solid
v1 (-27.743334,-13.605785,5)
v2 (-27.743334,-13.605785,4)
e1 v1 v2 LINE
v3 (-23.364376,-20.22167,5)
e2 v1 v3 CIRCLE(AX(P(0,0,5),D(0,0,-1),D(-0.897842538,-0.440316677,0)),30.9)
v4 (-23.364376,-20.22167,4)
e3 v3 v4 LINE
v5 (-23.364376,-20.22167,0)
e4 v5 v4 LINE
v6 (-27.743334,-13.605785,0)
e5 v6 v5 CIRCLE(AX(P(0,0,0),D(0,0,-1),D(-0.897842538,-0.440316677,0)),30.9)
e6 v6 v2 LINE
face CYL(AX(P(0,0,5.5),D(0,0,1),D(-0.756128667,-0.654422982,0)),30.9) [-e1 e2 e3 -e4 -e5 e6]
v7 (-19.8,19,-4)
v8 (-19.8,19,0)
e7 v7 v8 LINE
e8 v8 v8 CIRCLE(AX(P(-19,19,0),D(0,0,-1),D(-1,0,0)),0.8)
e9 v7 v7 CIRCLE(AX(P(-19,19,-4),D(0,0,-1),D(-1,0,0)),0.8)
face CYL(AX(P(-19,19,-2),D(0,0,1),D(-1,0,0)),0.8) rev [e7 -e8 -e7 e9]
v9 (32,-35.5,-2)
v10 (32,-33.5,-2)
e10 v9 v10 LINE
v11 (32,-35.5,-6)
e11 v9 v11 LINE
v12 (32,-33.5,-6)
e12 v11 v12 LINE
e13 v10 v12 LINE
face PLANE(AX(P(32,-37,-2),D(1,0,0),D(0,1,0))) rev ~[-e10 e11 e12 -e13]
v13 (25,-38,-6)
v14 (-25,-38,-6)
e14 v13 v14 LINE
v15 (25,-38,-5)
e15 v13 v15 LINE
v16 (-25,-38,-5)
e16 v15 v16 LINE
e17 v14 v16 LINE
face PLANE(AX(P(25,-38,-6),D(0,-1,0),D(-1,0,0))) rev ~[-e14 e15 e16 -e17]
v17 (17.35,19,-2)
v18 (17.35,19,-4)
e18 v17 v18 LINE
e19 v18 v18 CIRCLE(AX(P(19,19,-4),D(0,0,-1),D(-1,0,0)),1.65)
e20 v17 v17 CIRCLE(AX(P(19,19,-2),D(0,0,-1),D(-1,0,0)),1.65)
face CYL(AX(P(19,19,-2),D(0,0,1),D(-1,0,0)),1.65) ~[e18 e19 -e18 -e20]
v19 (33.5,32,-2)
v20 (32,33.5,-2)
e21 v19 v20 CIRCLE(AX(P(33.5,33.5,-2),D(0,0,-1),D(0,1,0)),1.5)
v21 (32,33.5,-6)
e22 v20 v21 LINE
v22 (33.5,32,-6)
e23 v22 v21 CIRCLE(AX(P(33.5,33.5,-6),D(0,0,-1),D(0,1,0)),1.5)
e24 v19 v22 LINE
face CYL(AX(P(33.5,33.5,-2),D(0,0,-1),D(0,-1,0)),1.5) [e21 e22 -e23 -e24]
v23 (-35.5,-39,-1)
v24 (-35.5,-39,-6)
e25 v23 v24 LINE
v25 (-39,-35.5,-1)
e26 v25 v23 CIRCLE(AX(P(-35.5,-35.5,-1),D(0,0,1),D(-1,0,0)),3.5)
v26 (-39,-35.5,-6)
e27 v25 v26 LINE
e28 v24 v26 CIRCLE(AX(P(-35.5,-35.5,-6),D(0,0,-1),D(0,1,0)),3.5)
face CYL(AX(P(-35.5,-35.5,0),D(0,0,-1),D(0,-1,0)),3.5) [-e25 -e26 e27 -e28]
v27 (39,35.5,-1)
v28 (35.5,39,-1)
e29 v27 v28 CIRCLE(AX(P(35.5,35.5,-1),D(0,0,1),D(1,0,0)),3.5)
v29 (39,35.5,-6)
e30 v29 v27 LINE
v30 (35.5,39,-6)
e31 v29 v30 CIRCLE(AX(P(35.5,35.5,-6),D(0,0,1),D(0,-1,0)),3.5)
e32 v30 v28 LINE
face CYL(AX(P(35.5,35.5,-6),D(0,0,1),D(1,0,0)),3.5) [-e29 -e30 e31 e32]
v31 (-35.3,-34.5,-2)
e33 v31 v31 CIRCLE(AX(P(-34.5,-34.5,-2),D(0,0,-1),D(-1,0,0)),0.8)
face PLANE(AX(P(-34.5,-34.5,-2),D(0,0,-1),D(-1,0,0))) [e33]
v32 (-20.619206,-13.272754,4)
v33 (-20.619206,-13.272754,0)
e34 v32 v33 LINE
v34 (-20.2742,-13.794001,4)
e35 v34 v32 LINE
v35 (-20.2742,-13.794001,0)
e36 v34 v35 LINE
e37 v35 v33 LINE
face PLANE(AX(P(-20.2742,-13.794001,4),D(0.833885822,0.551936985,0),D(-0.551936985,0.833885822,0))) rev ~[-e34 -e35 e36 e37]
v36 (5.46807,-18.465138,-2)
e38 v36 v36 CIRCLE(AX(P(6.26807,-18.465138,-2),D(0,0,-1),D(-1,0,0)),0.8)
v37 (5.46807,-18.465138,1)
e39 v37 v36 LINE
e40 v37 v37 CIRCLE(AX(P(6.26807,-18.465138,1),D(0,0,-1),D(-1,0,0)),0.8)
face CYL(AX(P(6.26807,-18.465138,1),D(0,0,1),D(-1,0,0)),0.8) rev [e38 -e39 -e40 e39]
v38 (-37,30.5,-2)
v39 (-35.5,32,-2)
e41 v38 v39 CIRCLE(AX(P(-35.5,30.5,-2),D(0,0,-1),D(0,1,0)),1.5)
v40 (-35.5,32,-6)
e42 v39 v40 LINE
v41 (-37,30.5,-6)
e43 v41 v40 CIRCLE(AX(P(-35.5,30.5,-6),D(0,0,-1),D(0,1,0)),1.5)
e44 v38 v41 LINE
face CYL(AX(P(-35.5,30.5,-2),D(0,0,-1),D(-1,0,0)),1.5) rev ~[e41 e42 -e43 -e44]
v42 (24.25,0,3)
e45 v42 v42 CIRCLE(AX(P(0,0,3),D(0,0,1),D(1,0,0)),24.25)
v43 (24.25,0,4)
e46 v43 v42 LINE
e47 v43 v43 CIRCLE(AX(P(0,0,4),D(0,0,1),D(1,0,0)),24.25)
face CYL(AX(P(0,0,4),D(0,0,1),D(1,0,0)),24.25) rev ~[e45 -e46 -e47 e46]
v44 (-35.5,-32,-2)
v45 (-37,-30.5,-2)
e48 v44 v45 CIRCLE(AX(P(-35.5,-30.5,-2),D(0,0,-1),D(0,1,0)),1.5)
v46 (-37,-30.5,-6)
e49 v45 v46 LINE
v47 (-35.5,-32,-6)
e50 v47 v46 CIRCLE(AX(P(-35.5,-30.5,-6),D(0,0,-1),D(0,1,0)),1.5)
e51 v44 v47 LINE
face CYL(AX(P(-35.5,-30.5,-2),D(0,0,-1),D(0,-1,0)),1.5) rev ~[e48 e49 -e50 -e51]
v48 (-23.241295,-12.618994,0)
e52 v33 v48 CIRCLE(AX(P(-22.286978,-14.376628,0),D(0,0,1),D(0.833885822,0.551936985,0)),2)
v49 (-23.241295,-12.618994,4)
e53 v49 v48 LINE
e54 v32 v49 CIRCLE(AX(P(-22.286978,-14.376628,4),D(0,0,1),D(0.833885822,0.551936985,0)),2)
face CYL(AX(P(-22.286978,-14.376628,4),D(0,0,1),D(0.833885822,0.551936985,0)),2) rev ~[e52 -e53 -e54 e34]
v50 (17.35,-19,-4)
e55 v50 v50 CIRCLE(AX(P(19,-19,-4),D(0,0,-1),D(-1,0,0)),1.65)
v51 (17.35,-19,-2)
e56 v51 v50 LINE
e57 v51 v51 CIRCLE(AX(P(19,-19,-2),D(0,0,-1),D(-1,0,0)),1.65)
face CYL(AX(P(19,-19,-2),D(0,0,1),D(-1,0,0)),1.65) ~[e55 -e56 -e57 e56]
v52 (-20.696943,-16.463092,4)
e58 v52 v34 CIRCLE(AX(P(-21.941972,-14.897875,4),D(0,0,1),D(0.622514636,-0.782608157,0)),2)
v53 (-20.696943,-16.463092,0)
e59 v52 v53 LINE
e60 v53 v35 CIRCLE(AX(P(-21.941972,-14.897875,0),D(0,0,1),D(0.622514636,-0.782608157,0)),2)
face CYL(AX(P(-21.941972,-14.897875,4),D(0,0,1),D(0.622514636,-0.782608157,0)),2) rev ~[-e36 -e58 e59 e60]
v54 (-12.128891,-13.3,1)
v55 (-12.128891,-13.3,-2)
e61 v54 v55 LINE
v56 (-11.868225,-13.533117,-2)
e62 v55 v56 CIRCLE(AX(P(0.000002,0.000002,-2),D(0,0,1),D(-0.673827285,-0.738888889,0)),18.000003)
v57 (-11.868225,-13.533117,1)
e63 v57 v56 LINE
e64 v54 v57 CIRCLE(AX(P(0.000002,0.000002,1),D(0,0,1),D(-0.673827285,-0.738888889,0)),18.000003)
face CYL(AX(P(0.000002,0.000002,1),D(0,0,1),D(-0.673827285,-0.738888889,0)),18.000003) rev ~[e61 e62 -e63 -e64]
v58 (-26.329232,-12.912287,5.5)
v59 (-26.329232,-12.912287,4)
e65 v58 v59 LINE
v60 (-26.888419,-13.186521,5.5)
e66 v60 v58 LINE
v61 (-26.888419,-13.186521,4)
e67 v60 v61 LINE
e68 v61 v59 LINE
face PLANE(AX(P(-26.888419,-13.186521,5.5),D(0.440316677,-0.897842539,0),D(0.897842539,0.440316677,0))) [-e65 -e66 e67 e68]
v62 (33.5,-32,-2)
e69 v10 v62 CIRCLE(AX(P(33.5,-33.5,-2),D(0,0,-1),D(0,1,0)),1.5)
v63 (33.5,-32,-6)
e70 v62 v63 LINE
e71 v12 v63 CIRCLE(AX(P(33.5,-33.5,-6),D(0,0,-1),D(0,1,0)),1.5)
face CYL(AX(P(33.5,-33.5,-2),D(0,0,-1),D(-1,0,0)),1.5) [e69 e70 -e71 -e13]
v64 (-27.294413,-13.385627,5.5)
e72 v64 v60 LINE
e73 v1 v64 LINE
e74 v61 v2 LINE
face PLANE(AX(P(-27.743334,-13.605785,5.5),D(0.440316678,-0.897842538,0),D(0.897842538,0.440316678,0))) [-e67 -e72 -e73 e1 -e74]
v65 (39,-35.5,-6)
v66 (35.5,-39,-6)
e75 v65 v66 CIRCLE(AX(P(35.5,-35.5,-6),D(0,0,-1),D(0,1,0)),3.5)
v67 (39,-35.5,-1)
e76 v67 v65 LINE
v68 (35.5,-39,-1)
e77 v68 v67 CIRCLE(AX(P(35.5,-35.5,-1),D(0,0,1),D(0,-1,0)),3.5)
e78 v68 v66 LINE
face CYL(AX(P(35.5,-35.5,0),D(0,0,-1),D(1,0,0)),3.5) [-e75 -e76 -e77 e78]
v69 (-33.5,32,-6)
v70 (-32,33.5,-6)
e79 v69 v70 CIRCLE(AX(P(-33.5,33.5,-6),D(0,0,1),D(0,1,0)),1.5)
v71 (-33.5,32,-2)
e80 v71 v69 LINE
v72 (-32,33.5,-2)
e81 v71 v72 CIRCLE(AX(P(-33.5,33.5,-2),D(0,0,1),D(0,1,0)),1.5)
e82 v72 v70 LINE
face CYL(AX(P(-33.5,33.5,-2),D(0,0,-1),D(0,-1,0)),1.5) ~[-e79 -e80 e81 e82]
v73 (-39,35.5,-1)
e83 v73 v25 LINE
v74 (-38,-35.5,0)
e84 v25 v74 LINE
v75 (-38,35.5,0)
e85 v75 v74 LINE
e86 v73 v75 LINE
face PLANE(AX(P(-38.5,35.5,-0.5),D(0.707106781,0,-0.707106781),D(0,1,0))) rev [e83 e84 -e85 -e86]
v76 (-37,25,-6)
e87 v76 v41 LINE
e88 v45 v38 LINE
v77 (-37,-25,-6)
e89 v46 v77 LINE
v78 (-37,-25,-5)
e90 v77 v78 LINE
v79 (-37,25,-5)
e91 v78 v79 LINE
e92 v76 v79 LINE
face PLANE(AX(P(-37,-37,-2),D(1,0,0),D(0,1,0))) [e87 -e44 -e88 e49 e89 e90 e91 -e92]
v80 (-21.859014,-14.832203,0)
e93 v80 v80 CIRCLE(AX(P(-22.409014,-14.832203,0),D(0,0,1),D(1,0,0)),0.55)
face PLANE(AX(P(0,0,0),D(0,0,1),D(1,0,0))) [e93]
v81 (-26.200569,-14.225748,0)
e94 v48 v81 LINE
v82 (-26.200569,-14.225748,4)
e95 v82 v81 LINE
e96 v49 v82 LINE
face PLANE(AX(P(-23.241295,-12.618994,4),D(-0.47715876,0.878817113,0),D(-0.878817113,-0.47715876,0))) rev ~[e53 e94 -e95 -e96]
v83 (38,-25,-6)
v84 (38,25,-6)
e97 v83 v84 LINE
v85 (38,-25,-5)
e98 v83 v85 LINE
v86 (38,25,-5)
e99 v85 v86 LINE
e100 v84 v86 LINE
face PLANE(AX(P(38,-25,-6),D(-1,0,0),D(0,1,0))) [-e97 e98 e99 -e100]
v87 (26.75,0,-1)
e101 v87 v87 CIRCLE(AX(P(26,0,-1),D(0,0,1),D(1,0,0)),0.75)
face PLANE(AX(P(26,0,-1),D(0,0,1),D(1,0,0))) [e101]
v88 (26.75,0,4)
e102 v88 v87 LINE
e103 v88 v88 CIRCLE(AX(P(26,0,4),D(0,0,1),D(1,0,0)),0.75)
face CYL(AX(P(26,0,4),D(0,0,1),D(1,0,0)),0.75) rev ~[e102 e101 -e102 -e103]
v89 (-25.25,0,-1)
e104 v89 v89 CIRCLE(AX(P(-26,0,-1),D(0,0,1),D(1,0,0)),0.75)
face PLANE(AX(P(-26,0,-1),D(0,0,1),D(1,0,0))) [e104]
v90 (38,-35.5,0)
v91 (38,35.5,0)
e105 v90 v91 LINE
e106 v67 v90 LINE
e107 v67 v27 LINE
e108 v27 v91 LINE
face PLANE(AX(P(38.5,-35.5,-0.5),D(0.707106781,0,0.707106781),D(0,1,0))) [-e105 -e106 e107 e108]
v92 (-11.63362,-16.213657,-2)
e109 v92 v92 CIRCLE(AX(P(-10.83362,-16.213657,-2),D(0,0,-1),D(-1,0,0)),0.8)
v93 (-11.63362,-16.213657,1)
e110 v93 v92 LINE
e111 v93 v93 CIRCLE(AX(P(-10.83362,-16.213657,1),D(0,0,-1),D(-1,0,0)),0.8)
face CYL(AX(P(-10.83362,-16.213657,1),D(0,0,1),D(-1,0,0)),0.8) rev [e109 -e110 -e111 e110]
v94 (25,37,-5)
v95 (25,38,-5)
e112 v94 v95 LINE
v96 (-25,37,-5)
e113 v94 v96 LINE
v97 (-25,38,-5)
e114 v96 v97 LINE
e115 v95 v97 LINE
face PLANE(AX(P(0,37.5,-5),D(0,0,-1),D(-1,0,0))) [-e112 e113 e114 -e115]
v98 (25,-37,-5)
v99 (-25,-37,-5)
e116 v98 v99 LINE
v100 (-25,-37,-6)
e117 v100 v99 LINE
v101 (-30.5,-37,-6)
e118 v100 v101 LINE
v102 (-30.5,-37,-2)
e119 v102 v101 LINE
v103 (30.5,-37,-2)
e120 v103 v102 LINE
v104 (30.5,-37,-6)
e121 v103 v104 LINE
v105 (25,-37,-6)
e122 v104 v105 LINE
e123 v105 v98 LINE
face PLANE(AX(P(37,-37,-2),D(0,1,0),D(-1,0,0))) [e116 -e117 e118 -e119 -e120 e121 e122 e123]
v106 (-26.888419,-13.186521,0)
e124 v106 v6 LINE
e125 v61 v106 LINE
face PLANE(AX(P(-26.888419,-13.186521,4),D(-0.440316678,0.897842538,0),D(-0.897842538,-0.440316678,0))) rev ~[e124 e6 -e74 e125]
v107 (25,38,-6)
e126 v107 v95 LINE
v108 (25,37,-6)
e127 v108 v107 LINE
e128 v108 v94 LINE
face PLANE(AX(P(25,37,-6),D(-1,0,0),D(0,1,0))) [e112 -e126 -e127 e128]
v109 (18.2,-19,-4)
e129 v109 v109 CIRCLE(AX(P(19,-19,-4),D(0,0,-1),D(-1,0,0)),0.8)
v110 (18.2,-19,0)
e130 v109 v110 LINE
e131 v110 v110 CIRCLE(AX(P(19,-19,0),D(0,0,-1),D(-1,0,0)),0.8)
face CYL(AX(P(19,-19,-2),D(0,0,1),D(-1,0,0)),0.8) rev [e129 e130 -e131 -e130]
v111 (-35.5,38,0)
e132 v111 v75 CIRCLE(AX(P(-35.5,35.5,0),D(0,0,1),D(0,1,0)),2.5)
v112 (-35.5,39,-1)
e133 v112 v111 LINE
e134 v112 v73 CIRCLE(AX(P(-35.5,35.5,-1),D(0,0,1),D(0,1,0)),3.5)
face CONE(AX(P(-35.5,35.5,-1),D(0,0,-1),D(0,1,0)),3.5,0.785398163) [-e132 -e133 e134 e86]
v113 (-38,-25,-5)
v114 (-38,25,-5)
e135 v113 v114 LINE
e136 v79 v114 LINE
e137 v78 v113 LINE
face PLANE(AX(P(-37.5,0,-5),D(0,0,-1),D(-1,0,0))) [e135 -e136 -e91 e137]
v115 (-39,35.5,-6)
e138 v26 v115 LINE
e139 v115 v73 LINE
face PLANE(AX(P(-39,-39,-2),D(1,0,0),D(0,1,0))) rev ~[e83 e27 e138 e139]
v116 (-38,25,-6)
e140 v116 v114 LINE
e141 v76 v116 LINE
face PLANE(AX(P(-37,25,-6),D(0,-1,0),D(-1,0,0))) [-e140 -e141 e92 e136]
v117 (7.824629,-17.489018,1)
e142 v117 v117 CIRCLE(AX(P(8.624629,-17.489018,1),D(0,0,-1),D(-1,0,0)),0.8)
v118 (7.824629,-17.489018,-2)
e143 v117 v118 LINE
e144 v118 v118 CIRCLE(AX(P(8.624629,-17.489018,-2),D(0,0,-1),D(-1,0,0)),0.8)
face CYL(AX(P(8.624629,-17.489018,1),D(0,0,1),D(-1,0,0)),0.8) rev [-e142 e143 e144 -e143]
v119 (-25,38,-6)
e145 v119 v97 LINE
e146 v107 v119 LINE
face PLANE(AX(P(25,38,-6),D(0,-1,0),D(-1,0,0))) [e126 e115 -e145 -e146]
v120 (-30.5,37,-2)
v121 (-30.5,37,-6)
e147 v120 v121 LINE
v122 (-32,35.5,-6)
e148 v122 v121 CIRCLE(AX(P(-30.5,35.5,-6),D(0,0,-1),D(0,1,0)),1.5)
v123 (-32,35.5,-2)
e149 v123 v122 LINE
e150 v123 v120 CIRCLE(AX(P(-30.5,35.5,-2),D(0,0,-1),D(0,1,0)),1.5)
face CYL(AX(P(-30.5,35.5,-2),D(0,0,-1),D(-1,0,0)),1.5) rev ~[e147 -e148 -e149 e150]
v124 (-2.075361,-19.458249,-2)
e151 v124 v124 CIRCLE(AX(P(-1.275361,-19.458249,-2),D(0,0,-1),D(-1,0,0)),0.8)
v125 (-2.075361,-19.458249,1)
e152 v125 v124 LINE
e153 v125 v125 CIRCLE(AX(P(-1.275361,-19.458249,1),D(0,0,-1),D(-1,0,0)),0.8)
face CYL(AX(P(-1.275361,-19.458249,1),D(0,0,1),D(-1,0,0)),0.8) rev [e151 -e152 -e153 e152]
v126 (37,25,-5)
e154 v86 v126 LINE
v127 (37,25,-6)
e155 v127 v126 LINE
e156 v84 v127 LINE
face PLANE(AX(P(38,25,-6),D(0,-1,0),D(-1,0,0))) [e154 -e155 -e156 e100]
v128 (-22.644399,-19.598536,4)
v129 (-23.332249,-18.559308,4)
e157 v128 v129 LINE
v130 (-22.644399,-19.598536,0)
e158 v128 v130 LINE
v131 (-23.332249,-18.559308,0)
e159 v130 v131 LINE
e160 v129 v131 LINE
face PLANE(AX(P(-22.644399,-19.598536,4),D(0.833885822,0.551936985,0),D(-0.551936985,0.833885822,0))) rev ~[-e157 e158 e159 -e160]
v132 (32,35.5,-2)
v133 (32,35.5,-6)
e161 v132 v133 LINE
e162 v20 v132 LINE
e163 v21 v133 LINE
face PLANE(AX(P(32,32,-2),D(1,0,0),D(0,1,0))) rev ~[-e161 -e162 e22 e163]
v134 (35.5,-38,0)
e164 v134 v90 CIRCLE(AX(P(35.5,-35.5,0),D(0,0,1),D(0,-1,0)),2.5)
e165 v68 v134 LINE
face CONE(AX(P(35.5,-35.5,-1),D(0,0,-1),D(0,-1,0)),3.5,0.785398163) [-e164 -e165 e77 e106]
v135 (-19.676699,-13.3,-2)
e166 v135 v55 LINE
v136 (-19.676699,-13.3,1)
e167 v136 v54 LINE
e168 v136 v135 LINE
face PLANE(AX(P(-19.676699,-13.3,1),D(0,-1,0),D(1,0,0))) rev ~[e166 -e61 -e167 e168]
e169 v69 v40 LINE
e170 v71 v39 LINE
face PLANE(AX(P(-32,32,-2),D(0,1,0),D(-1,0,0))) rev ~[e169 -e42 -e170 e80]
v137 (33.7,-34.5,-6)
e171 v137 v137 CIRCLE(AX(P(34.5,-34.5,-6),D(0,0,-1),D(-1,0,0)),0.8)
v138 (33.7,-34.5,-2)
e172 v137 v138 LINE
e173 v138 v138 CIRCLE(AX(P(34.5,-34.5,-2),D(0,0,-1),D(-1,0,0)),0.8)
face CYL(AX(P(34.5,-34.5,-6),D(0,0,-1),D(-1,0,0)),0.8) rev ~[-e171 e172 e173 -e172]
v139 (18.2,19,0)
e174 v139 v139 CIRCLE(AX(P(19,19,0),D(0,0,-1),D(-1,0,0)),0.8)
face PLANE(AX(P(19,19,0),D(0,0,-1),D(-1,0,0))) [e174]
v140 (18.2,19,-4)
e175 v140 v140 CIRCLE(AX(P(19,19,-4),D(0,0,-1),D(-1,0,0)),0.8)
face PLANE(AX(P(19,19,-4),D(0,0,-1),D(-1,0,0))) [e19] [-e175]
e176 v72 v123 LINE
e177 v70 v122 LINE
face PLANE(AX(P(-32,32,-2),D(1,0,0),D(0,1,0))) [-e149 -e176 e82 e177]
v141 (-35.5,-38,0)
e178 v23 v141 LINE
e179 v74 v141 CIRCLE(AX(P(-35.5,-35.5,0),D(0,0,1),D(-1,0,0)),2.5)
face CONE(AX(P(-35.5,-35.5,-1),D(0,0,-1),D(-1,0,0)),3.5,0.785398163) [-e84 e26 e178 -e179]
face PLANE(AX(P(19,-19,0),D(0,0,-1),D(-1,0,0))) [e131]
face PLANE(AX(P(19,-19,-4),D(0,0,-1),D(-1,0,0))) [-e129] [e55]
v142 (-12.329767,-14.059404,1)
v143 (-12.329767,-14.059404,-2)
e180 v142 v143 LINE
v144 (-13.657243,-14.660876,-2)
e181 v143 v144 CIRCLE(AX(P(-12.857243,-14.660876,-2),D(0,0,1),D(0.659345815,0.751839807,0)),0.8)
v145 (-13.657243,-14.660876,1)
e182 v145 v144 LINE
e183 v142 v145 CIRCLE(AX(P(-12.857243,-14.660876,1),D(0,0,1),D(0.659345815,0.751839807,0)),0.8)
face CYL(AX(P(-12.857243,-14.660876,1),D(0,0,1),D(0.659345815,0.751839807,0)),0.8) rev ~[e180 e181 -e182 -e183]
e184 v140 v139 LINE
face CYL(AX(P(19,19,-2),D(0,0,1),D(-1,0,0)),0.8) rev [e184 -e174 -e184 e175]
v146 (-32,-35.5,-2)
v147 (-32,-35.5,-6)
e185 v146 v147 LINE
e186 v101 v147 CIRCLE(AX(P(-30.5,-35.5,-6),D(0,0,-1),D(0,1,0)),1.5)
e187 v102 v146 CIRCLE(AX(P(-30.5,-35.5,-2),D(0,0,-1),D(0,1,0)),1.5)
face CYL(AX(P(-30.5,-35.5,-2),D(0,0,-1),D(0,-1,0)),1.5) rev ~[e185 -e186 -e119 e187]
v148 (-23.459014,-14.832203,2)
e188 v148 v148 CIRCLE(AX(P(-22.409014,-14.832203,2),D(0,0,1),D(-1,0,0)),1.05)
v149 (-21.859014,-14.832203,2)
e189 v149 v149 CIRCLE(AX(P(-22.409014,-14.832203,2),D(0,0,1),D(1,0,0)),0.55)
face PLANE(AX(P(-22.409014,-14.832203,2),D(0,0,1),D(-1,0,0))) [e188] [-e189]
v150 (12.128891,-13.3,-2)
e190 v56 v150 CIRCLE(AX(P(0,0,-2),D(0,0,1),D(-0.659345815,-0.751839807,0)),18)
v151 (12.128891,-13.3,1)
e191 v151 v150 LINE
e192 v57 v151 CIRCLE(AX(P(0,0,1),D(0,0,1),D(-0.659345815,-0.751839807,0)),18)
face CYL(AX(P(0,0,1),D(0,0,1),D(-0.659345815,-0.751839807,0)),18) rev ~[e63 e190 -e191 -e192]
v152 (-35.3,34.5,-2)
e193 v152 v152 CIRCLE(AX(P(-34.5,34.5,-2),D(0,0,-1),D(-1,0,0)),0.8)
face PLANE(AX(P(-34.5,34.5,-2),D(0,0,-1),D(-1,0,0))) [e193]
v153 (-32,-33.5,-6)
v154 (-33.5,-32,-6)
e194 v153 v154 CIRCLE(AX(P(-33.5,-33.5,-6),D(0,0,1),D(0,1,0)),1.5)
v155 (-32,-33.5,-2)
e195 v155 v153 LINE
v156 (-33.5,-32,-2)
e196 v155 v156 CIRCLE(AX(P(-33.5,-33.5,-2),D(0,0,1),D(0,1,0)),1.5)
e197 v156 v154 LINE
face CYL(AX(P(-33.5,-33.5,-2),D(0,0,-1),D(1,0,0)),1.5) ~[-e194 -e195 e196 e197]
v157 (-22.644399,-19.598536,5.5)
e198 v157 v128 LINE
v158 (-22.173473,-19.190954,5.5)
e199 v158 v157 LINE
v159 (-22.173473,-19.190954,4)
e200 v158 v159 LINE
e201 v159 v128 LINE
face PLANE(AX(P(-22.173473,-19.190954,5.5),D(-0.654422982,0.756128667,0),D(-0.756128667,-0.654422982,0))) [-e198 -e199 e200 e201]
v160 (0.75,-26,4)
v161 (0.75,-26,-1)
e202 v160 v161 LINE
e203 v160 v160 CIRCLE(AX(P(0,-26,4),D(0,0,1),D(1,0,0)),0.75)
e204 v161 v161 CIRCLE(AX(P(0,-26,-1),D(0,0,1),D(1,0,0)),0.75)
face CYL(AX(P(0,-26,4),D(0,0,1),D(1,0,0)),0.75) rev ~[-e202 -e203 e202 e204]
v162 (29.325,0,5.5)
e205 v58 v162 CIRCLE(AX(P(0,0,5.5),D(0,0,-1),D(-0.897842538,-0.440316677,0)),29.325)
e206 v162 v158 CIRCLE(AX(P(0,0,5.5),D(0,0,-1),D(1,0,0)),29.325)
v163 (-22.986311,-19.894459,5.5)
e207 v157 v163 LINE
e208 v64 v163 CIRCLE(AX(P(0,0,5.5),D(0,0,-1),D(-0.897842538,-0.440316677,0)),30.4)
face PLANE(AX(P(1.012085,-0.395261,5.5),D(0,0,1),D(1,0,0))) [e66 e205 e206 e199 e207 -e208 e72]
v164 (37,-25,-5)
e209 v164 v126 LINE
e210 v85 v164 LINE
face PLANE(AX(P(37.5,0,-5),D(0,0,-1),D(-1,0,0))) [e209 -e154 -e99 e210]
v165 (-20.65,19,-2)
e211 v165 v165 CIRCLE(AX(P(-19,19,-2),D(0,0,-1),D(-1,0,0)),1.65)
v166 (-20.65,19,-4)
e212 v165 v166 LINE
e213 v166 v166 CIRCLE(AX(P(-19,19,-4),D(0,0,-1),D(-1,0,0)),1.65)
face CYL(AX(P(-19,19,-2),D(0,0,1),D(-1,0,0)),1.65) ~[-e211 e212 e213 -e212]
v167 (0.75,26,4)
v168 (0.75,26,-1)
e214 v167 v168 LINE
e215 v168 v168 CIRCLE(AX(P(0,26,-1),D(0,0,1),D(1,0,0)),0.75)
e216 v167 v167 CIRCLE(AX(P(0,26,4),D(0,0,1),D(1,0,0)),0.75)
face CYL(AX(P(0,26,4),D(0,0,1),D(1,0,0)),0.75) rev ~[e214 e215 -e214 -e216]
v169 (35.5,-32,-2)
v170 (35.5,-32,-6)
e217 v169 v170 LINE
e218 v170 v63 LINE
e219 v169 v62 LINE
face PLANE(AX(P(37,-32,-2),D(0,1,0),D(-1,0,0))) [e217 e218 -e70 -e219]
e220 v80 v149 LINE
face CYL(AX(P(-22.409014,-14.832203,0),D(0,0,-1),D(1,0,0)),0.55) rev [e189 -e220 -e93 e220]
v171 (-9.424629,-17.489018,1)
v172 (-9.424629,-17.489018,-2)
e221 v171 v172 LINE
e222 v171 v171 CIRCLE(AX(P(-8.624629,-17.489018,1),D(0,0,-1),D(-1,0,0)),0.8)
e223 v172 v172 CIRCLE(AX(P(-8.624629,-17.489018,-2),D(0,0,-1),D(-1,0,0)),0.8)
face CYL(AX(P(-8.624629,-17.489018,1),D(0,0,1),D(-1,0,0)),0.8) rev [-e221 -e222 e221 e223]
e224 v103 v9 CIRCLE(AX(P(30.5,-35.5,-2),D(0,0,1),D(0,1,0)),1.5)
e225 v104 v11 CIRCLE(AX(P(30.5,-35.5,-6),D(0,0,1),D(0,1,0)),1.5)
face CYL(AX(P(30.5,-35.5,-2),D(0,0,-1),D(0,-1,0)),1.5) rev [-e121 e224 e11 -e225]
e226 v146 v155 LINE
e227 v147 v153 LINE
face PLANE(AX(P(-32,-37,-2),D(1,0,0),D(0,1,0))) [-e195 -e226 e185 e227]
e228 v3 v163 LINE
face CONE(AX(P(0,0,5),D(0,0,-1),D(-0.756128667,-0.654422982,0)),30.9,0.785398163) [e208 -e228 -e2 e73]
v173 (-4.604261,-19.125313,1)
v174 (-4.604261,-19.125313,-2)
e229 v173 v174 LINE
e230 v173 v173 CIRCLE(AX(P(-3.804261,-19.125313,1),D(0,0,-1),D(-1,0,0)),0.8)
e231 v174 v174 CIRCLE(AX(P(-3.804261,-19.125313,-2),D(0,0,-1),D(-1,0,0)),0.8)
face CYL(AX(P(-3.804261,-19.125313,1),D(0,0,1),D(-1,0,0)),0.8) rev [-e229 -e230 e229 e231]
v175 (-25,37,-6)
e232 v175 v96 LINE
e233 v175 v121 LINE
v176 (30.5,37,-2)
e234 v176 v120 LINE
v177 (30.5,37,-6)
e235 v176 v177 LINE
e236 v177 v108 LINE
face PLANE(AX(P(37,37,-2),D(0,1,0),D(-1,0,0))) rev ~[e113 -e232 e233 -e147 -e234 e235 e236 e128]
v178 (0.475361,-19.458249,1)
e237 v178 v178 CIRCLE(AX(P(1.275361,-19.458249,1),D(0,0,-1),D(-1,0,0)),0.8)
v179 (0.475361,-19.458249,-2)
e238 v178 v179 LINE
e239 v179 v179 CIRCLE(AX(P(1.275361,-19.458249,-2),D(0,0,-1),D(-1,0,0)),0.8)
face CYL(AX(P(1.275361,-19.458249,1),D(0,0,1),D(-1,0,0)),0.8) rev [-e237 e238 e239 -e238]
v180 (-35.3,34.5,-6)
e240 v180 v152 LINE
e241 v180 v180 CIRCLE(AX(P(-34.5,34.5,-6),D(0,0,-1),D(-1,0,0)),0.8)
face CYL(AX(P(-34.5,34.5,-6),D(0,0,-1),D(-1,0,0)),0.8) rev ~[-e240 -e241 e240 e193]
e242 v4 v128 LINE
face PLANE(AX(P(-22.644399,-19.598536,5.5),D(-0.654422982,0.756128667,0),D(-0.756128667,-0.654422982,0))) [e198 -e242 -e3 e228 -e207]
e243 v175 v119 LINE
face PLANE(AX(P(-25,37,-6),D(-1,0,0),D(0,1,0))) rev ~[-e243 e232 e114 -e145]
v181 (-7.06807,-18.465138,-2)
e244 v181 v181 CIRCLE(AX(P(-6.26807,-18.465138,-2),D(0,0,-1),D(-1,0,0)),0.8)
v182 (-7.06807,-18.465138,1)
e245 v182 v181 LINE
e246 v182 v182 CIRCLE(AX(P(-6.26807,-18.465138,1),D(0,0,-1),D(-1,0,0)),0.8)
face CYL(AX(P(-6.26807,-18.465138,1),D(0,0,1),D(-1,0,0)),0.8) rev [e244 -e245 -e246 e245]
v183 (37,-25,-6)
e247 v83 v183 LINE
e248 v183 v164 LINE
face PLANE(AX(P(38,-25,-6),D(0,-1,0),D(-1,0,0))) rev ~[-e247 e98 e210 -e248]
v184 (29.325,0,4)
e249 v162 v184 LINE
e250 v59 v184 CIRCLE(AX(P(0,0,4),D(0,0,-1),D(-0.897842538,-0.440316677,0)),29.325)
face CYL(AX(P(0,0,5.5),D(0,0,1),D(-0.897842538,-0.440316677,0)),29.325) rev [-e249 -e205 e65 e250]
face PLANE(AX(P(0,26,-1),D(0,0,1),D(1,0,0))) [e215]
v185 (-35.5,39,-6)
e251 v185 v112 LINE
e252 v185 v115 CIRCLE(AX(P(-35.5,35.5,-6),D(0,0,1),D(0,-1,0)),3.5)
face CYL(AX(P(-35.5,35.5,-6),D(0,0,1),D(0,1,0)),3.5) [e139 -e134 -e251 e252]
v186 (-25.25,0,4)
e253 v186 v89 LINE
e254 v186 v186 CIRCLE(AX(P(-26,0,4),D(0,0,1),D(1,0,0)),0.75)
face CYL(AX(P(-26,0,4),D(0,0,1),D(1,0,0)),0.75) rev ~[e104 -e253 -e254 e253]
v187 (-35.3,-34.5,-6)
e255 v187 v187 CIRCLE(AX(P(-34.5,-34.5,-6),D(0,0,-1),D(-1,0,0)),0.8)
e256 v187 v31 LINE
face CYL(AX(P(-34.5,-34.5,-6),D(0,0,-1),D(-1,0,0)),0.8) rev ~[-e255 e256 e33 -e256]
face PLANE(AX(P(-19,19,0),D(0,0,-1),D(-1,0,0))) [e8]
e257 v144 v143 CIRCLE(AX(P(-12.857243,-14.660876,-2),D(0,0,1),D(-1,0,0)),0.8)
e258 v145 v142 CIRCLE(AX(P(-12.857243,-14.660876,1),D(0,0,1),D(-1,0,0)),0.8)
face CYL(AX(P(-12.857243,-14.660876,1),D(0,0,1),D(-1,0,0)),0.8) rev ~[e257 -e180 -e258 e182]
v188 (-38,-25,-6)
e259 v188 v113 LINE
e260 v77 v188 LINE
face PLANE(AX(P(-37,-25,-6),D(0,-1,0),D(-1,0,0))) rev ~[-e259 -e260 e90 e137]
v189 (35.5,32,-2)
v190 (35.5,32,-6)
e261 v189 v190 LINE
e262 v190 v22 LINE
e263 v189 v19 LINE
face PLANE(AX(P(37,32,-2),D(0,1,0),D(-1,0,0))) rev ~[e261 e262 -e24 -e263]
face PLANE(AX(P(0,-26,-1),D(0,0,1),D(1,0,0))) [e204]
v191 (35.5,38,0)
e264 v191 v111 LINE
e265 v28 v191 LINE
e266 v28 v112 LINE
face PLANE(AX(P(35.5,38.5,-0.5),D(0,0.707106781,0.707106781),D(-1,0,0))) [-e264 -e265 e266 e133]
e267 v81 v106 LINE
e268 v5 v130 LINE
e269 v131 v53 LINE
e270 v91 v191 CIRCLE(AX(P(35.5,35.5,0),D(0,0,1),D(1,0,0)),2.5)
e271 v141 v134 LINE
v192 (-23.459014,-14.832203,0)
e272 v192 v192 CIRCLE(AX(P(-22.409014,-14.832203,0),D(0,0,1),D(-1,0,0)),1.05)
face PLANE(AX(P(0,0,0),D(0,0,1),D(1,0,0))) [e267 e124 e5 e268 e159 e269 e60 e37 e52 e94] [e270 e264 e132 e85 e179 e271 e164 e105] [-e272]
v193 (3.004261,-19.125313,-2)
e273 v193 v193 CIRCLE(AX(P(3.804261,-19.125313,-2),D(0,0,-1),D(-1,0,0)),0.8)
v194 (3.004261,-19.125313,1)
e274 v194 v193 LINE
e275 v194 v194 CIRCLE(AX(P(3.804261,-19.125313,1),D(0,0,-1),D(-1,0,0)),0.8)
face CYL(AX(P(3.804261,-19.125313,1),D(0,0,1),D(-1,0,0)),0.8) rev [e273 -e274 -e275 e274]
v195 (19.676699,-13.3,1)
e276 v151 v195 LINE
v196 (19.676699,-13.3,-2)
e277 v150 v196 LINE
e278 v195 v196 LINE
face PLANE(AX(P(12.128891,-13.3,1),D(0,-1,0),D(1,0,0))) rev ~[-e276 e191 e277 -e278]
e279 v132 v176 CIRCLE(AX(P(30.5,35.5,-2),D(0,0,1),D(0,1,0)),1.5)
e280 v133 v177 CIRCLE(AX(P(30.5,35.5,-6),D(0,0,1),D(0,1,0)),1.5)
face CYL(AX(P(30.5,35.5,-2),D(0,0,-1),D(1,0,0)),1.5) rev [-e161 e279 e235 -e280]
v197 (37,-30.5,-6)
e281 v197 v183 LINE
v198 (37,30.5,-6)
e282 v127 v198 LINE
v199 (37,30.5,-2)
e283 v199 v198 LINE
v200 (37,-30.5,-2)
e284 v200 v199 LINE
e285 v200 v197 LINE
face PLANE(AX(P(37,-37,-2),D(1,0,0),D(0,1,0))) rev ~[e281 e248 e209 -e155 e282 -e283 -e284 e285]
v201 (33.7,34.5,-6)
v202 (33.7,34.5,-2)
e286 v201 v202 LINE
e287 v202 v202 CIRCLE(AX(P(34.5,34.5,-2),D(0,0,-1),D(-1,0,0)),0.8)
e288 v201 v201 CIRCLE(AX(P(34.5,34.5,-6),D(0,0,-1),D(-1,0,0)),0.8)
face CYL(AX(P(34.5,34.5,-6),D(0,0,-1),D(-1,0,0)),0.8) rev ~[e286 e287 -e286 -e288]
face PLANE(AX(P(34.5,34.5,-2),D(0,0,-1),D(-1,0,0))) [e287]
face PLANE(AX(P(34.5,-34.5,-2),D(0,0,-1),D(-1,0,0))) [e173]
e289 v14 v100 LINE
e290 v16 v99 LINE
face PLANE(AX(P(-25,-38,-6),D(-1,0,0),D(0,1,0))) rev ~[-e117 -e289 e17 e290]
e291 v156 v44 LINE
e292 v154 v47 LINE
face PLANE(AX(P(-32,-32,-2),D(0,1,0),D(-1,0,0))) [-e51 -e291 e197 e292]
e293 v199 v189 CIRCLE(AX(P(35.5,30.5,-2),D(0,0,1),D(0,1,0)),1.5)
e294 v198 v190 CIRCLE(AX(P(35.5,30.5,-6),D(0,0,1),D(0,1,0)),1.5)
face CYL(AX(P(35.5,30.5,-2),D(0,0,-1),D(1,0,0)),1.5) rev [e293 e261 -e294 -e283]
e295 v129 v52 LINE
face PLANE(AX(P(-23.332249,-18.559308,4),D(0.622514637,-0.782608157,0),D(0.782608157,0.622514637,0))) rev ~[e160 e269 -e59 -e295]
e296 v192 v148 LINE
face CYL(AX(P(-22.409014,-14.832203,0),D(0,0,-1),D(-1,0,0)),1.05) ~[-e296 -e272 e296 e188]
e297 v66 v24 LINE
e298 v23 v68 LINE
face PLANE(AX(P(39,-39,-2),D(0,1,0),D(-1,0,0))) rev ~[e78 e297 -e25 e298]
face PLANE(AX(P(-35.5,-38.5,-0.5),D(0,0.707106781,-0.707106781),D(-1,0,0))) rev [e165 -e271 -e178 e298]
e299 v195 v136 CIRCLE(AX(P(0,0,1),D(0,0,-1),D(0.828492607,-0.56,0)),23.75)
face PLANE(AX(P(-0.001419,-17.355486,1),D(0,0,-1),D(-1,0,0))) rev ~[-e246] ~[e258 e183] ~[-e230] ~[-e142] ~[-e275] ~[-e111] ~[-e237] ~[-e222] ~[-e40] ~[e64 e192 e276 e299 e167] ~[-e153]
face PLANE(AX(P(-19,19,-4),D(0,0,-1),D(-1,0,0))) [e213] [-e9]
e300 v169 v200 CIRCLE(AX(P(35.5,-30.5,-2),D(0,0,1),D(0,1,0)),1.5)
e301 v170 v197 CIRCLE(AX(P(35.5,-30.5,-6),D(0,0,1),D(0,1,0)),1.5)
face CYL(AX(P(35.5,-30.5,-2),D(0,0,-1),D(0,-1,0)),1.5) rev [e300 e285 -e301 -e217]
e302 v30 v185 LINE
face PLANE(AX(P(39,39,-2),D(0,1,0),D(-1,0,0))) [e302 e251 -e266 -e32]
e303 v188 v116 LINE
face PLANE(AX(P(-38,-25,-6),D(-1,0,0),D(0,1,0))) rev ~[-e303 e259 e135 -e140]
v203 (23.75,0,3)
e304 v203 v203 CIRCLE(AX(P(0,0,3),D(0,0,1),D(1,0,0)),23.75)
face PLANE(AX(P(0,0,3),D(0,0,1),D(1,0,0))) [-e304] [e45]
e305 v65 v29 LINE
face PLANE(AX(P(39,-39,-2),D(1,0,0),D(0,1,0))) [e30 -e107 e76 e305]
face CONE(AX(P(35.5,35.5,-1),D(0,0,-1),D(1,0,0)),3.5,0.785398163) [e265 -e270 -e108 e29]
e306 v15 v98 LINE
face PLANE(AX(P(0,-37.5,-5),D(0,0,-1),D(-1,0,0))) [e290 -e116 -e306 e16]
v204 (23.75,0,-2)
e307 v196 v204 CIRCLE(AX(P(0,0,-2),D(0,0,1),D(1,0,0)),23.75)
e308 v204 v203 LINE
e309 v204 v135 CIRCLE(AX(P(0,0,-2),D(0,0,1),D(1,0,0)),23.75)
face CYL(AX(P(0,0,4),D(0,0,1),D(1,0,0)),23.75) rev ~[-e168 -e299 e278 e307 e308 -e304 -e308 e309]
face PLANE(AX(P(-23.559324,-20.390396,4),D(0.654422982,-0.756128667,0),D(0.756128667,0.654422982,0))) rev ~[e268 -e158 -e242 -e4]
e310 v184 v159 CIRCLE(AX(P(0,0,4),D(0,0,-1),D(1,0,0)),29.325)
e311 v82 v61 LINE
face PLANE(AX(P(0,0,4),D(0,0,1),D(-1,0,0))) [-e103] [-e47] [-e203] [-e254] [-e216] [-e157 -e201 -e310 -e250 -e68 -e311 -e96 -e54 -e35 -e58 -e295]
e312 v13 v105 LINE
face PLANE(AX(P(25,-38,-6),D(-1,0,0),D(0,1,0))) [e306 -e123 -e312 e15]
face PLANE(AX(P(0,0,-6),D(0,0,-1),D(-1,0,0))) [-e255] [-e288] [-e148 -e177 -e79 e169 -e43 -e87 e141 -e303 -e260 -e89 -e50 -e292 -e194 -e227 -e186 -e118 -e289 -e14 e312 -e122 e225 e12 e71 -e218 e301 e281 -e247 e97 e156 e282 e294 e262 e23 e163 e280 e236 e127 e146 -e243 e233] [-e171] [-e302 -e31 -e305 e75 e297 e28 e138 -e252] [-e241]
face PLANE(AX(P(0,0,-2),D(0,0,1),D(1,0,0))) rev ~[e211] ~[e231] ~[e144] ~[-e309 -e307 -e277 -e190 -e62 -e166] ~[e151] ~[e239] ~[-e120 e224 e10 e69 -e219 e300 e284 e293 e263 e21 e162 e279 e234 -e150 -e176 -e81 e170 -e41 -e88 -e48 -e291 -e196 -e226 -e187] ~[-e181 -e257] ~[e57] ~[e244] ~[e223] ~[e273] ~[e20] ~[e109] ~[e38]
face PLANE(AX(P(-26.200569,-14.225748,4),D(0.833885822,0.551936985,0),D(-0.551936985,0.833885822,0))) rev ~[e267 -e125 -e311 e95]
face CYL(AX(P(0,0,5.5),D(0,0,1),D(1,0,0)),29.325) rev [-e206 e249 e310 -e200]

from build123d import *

# Parameters (mm, degrees)
SKETCH_1_W          = 78
SKETCH_1_H          = 78
SKETCH_1_R          = 23.75
EXTRUDE_1_DEPTH     = 2
EXTRUDE_START       = 4
SKETCH_2_R          = 30.9
SKETCH_2_R_2        = 23.75
EXTRUDE_2_DEPTH     = 4
SKETCH_3_W          = 78
SKETCH_3_H          = 78
EXTRUDE_3_DEPTH     = 4
SKETCH_4_R          = 0.75
CUT_EXTRUDE_1_DEPTH = 5
CUT_EXTRUDE_2_DEPTH = 4
SKETCH_6_R          = 1.05
SKETCH_6_R_2        = 0.55
EXTRUDE_4_DEPTH     = 2
EXTRUDE_START_2     = 1.5
EXTRUDE_5_DEPTH     = 1.5
CHAMFER_1_SIZE      = 0.5
SKETCH_9_R          = 1.65
SKETCH_9_R_2        = 0.8
EXTRUDE_6_DEPTH     = 2
CUT_EXTRUDE_START   = -2
SKETCH_9_2_R        = 0.8
CUT_EXTRUDE_4_DEPTH = 2
SKETCH_10_R         = 0.8
CUT_EXTRUDE_5_DEPTH = 4
FILLET_2_R          = 1.5
FILLET_3_R          = 3.5
CHAMFER_2_SIZE      = 1
SKETCH_11_R         = 24.25
CUT_EXTRUDE_6_DEPTH = 1
SKETCH_12_W         = 50
SKETCH_12_H         = 1
SKETCH_12_W_2       = 1
SKETCH_12_H_2       = 50
CUT_EXTRUDE_7_DEPTH = 1
EXTRUDE_START_3     = -3
SKETCH_14_R         = 0.8
EXTRUDE_7_DEPTH     = 3


with BuildPart() as part:
    # 草图1 → 凸台-拉伸1 (new body)
    with BuildSketch(Plane.XY):
        Rectangle(SKETCH_1_W, SKETCH_1_H)
        Circle(SKETCH_1_R, mode=Mode.SUBTRACT)
    extrude(amount=-EXTRUDE_1_DEPTH)

    # 草图2 → 凸台-拉伸2 (add)
    with BuildSketch(Plane.XY.offset(EXTRUDE_START)):
        Circle(SKETCH_2_R)
        Circle(SKETCH_2_R_2, mode=Mode.SUBTRACT)
    extrude(amount=-EXTRUDE_2_DEPTH)

    # 草图3 → 凸台-拉伸3 (add)
    with BuildSketch(Plane(origin=(0, 0, -2), x_dir=(-1, 0, 0), z_dir=(0, 0, -1))):
        Rectangle(SKETCH_3_W, SKETCH_3_H)
        Polygon((32, -37), (-32, -37), (-32, -32), (-37, -32), (-37, 32), (-32, 32), (-32, 37), (32, 37), (32, 32), (37, 32), (37, -32), (32, -32), align=None, mode=Mode.SUBTRACT)
    extrude(amount=EXTRUDE_3_DEPTH)

    # 草图4 → 切除-拉伸1 (cut)
    with BuildSketch(Plane.XY.offset(4)):
        with Locations((0, 26)):
            Circle(SKETCH_4_R)
        with Locations((26, 0)):
            Circle(SKETCH_4_R)
        with Locations((0, -26)):
            Circle(SKETCH_4_R)
        with Locations((-26, 0)):
            Circle(SKETCH_4_R)
    extrude(amount=-CUT_EXTRUDE_1_DEPTH, mode=Mode.SUBTRACT)

    # 草图5 → 切除-拉伸2 (cut)
    with BuildSketch(Plane.XY.offset(4)):
        with BuildLine():
            Line((-27.974819843, -13.719309558), (-23.559323961, -20.390396134))
            Line((-23.559323961, -20.390396134), (-22.644398758, -19.59853609))
            Line((-22.644398758, -19.59853609), (-23.332248508, -18.55930848))
            Line((-23.332248508, -18.55930848), (-20.696942595, -16.463091505))
            ThreePointArc((-20.696942595, -16.463091505), (-19.966595187, -15.210744122), (-20.274200224, -13.794001221))
            Line((-20.274200224, -13.794001221), (-20.619206205, -13.272754043))
            ThreePointArc((-20.619206205, -13.272754043), (-21.803134058, -12.436036561), (-23.24129537, -12.618993788))
            Line((-23.24129537, -12.618993788), (-26.200569323, -14.225748447))
            Line((-26.200569323, -14.225748447), (-26.888419073, -13.186520837))
            Line((-26.888419073, -13.186520837), (-27.974819843, -13.719309558))
        make_face()
    extrude(amount=-CUT_EXTRUDE_2_DEPTH, mode=Mode.SUBTRACT)

    # 草图6 → 凸台-拉伸4 (add)
    with BuildSketch(Plane.XY):
        with Locations((-22.409013696, -14.832202606)):
            Circle(SKETCH_6_R)
        with Locations((-22.409013696, -14.832202606)):
            Circle(SKETCH_6_R_2, mode=Mode.SUBTRACT)
    extrude(amount=EXTRUDE_4_DEPTH)

    # 草图8 → 凸台-拉伸5 (add)
    with BuildSketch(Plane.XY.offset(4).offset(EXTRUDE_START_2)):
        with BuildLine():
            ThreePointArc((30.9, 0), (-6.983586682, 30.100490312), (-27.743334437, -13.605785326))
            Line((-27.743334437, -13.605785326), (-26.888419073, -13.186520837))
            Line((-26.888419073, -13.186520837), (-26.329232439, -12.912286559))
            ThreePointArc((-26.329232439, -12.912286559), (-6.627627167, 28.56624202), (29.325, 0))
            ThreePointArc((29.325, 0), (10.240081174, -27.479016768), (-22.17347315, -19.190953949))
            Line((-22.17347315, -19.190953949), (-22.644398758, -19.59853609))
            Line((-22.644398758, -19.59853609), (-23.3643758, -20.221670146))
            ThreePointArc((-23.3643758, -20.221670146), (10.790059958, -28.954871889), (30.9, 0))
        make_face()
    extrude(amount=-EXTRUDE_5_DEPTH)

    # 倒角1
    chamfer_1_edges = [part.edges().sort_by_distance(p)[0] for p in [
        (25.767071902, 17.054852846, 5.5),
    ]]
    chamfer(chamfer_1_edges, length=CHAMFER_1_SIZE)

    # 草图9 → 凸台-拉伸6 (add)
    # profile 1 of 3: a face of its own
    with BuildSketch(Plane(origin=(0, 0, -2), x_dir=(-1, 0, 0), z_dir=(0, 0, -1))):
        with Locations((-19, -19)):
            Circle(SKETCH_9_R)
        with Locations((-19, -19)):
            Circle(SKETCH_9_R_2, mode=Mode.SUBTRACT)
    # profile 2 of 3: a face of its own
    with BuildSketch(Plane(origin=(0, 0, -2), x_dir=(-1, 0, 0), z_dir=(0, 0, -1))):
        with Locations((-19, 19)):
            Circle(SKETCH_9_R)
        with Locations((-19, 19)):
            Circle(SKETCH_9_R_2, mode=Mode.SUBTRACT)
    # profile 3 of 3: a face of its own
    with BuildSketch(Plane(origin=(0, 0, -2), x_dir=(-1, 0, 0), z_dir=(0, 0, -1))):
        with Locations((19, 19)):
            Circle(SKETCH_9_R)
        with Locations((19, 19)):
            Circle(SKETCH_9_R_2, mode=Mode.SUBTRACT)
    extrude(amount=EXTRUDE_6_DEPTH)

    # 草图9<2> → 切除-拉伸4 (cut)
    with BuildSketch(Plane(origin=(0, 0, -2), x_dir=(-1, 0, 0), z_dir=(0, 0, -1)).offset(CUT_EXTRUDE_START)):
        with Locations((-19, -19)):
            Circle(SKETCH_9_2_R)
        with Locations((-19, 19)):
            Circle(SKETCH_9_2_R)
        with Locations((19, 19)):
            Circle(SKETCH_9_2_R)
    extrude(amount=CUT_EXTRUDE_4_DEPTH, mode=Mode.SUBTRACT)

    # 草图10 → 切除-拉伸5 (cut)
    with BuildSketch(Plane(origin=(0, 0, -6), x_dir=(-1, 0, 0), z_dir=(0, 0, -1))):
        with Locations((-34.5, 34.5)):
            Circle(SKETCH_10_R)
        with Locations((34.5, 34.5)):
            Circle(SKETCH_10_R)
        with Locations((34.5, -34.5)):
            Circle(SKETCH_10_R)
        with Locations((-34.5, -34.5)):
            Circle(SKETCH_10_R)
    extrude(amount=-CUT_EXTRUDE_5_DEPTH, mode=Mode.SUBTRACT)

    # 圆角2
    fillet_2_edges = [part.edges().sort_by_distance(p)[0] for p in [
        (37, -32, -4),
        (32, -37, -4),
        (-32, -37, -4),
        (-32, -32, -4),
        (-37, -32, -4),
        (-37, 32, -4),
        (-32, 37, -4),
        (32, -32, -4),
        (-32, 32, -4),
        (32, 37, -4),
        (37, 32, -4),
        (32, 32, -4),
    ]]
    fillet(fillet_2_edges, radius=FILLET_2_R)

    # 圆角3
    fillet_3_edges = [part.edges().sort_by_distance(p)[0] for p in [
        (39, -39, -3),
        (-39, -39, -3),
        (-39, 39, -3),
        (39, 39, -3),
    ]]
    fillet(fillet_3_edges, radius=FILLET_3_R)

    # 倒角2
    chamfer_2_edges = [part.edges().sort_by_distance(p)[0] for p in [
        (0, -39, 0),
        (37.974873734, -37.974873734, 0),
        (-37.974873734, -37.974873734, 0),
        (39, 0, 0),
        (-39, 0, 0),
        (37.974873734, 37.974873734, 0),
        (-37.974873734, 37.974873734, 0),
        (0, 39, 0),
    ]]
    chamfer(chamfer_2_edges, length=CHAMFER_2_SIZE)

    # 草图11 → 切除-拉伸6 (cut)
    with BuildSketch(Plane.XY.offset(4)):
        Circle(SKETCH_11_R)
    extrude(amount=-CUT_EXTRUDE_6_DEPTH, mode=Mode.SUBTRACT)

    # 草图12 → 切除-拉伸7 (cut)
    with BuildSketch(Plane(origin=(0, 0, -6), x_dir=(-1, 0, 0), z_dir=(0, 0, -1))):
        with Locations((0, 37.5)):
            Rectangle(SKETCH_12_W, SKETCH_12_H)
        with Locations((37.5, 0)):
            Rectangle(SKETCH_12_W_2, SKETCH_12_H_2)
        with Locations((0, -37.5)):
            Rectangle(SKETCH_12_W, SKETCH_12_H)
        with Locations((-37.5, 0)):
            Rectangle(SKETCH_12_W_2, SKETCH_12_H_2)
    extrude(amount=-CUT_EXTRUDE_7_DEPTH, mode=Mode.SUBTRACT)

    # 草图14 → 凸台-拉伸7 (add)
    with BuildSketch(Plane(origin=(0, 0, -2), x_dir=(-1, 0, 0), z_dir=(0, 0, -1)).offset(EXTRUDE_START_3)):
        with BuildLine():
            Line((-12.128891128, -13.3), (-19.676699418, -13.3))
            ThreePointArc((-19.676699418, -13.3), (0, -23.75), (19.676699418, -13.3))
            Line((19.676699418, -13.3), (12.128891128, -13.3))
            ThreePointArc((12.128891128, -13.3), (11.999124031, -13.417191304), (11.868224672, -13.533116535))
            ThreePointArc((11.868224672, -13.533116535), (-0.174850165, -17.999150742), (-12.128891128, -13.3))
        make_face()
        with Locations((-6.268069573, -18.465137525)):
            Circle(SKETCH_14_R, mode=Mode.SUBTRACT)
        with Locations((-3.804261279, -19.125312968)):
            Circle(SKETCH_14_R, mode=Mode.SUBTRACT)
        with Locations((-1.27536102, -19.458249003)):
            Circle(SKETCH_14_R, mode=Mode.SUBTRACT)
        with Locations((-8.624629459, -17.48901846)):
            Circle(SKETCH_14_R, mode=Mode.SUBTRACT)
        with Locations((1.27536102, -19.458249003)):
            Circle(SKETCH_14_R, mode=Mode.SUBTRACT)
        with Locations((3.804261279, -19.125312968)):
            Circle(SKETCH_14_R, mode=Mode.SUBTRACT)
        with Locations((6.268069573, -18.465137525)):
            Circle(SKETCH_14_R, mode=Mode.SUBTRACT)
        with Locations((8.624629459, -17.48901846)):
            Circle(SKETCH_14_R, mode=Mode.SUBTRACT)
        with Locations((10.833619544, -16.21365744)):
            Circle(SKETCH_14_R, mode=Mode.SUBTRACT)
        with BuildLine():
            ThreePointArc((13.657243394, -14.660876246), (12.527077771, -15.389567306), (12.329766742, -14.0594044))
            ThreePointArc((12.329766742, -14.0594044), (13.187409018, -13.932185186), (13.657243394, -14.660876246))
        make_face(mode=Mode.SUBTRACT)
    extrude(amount=EXTRUDE_7_DEPTH)


solid = part.part
